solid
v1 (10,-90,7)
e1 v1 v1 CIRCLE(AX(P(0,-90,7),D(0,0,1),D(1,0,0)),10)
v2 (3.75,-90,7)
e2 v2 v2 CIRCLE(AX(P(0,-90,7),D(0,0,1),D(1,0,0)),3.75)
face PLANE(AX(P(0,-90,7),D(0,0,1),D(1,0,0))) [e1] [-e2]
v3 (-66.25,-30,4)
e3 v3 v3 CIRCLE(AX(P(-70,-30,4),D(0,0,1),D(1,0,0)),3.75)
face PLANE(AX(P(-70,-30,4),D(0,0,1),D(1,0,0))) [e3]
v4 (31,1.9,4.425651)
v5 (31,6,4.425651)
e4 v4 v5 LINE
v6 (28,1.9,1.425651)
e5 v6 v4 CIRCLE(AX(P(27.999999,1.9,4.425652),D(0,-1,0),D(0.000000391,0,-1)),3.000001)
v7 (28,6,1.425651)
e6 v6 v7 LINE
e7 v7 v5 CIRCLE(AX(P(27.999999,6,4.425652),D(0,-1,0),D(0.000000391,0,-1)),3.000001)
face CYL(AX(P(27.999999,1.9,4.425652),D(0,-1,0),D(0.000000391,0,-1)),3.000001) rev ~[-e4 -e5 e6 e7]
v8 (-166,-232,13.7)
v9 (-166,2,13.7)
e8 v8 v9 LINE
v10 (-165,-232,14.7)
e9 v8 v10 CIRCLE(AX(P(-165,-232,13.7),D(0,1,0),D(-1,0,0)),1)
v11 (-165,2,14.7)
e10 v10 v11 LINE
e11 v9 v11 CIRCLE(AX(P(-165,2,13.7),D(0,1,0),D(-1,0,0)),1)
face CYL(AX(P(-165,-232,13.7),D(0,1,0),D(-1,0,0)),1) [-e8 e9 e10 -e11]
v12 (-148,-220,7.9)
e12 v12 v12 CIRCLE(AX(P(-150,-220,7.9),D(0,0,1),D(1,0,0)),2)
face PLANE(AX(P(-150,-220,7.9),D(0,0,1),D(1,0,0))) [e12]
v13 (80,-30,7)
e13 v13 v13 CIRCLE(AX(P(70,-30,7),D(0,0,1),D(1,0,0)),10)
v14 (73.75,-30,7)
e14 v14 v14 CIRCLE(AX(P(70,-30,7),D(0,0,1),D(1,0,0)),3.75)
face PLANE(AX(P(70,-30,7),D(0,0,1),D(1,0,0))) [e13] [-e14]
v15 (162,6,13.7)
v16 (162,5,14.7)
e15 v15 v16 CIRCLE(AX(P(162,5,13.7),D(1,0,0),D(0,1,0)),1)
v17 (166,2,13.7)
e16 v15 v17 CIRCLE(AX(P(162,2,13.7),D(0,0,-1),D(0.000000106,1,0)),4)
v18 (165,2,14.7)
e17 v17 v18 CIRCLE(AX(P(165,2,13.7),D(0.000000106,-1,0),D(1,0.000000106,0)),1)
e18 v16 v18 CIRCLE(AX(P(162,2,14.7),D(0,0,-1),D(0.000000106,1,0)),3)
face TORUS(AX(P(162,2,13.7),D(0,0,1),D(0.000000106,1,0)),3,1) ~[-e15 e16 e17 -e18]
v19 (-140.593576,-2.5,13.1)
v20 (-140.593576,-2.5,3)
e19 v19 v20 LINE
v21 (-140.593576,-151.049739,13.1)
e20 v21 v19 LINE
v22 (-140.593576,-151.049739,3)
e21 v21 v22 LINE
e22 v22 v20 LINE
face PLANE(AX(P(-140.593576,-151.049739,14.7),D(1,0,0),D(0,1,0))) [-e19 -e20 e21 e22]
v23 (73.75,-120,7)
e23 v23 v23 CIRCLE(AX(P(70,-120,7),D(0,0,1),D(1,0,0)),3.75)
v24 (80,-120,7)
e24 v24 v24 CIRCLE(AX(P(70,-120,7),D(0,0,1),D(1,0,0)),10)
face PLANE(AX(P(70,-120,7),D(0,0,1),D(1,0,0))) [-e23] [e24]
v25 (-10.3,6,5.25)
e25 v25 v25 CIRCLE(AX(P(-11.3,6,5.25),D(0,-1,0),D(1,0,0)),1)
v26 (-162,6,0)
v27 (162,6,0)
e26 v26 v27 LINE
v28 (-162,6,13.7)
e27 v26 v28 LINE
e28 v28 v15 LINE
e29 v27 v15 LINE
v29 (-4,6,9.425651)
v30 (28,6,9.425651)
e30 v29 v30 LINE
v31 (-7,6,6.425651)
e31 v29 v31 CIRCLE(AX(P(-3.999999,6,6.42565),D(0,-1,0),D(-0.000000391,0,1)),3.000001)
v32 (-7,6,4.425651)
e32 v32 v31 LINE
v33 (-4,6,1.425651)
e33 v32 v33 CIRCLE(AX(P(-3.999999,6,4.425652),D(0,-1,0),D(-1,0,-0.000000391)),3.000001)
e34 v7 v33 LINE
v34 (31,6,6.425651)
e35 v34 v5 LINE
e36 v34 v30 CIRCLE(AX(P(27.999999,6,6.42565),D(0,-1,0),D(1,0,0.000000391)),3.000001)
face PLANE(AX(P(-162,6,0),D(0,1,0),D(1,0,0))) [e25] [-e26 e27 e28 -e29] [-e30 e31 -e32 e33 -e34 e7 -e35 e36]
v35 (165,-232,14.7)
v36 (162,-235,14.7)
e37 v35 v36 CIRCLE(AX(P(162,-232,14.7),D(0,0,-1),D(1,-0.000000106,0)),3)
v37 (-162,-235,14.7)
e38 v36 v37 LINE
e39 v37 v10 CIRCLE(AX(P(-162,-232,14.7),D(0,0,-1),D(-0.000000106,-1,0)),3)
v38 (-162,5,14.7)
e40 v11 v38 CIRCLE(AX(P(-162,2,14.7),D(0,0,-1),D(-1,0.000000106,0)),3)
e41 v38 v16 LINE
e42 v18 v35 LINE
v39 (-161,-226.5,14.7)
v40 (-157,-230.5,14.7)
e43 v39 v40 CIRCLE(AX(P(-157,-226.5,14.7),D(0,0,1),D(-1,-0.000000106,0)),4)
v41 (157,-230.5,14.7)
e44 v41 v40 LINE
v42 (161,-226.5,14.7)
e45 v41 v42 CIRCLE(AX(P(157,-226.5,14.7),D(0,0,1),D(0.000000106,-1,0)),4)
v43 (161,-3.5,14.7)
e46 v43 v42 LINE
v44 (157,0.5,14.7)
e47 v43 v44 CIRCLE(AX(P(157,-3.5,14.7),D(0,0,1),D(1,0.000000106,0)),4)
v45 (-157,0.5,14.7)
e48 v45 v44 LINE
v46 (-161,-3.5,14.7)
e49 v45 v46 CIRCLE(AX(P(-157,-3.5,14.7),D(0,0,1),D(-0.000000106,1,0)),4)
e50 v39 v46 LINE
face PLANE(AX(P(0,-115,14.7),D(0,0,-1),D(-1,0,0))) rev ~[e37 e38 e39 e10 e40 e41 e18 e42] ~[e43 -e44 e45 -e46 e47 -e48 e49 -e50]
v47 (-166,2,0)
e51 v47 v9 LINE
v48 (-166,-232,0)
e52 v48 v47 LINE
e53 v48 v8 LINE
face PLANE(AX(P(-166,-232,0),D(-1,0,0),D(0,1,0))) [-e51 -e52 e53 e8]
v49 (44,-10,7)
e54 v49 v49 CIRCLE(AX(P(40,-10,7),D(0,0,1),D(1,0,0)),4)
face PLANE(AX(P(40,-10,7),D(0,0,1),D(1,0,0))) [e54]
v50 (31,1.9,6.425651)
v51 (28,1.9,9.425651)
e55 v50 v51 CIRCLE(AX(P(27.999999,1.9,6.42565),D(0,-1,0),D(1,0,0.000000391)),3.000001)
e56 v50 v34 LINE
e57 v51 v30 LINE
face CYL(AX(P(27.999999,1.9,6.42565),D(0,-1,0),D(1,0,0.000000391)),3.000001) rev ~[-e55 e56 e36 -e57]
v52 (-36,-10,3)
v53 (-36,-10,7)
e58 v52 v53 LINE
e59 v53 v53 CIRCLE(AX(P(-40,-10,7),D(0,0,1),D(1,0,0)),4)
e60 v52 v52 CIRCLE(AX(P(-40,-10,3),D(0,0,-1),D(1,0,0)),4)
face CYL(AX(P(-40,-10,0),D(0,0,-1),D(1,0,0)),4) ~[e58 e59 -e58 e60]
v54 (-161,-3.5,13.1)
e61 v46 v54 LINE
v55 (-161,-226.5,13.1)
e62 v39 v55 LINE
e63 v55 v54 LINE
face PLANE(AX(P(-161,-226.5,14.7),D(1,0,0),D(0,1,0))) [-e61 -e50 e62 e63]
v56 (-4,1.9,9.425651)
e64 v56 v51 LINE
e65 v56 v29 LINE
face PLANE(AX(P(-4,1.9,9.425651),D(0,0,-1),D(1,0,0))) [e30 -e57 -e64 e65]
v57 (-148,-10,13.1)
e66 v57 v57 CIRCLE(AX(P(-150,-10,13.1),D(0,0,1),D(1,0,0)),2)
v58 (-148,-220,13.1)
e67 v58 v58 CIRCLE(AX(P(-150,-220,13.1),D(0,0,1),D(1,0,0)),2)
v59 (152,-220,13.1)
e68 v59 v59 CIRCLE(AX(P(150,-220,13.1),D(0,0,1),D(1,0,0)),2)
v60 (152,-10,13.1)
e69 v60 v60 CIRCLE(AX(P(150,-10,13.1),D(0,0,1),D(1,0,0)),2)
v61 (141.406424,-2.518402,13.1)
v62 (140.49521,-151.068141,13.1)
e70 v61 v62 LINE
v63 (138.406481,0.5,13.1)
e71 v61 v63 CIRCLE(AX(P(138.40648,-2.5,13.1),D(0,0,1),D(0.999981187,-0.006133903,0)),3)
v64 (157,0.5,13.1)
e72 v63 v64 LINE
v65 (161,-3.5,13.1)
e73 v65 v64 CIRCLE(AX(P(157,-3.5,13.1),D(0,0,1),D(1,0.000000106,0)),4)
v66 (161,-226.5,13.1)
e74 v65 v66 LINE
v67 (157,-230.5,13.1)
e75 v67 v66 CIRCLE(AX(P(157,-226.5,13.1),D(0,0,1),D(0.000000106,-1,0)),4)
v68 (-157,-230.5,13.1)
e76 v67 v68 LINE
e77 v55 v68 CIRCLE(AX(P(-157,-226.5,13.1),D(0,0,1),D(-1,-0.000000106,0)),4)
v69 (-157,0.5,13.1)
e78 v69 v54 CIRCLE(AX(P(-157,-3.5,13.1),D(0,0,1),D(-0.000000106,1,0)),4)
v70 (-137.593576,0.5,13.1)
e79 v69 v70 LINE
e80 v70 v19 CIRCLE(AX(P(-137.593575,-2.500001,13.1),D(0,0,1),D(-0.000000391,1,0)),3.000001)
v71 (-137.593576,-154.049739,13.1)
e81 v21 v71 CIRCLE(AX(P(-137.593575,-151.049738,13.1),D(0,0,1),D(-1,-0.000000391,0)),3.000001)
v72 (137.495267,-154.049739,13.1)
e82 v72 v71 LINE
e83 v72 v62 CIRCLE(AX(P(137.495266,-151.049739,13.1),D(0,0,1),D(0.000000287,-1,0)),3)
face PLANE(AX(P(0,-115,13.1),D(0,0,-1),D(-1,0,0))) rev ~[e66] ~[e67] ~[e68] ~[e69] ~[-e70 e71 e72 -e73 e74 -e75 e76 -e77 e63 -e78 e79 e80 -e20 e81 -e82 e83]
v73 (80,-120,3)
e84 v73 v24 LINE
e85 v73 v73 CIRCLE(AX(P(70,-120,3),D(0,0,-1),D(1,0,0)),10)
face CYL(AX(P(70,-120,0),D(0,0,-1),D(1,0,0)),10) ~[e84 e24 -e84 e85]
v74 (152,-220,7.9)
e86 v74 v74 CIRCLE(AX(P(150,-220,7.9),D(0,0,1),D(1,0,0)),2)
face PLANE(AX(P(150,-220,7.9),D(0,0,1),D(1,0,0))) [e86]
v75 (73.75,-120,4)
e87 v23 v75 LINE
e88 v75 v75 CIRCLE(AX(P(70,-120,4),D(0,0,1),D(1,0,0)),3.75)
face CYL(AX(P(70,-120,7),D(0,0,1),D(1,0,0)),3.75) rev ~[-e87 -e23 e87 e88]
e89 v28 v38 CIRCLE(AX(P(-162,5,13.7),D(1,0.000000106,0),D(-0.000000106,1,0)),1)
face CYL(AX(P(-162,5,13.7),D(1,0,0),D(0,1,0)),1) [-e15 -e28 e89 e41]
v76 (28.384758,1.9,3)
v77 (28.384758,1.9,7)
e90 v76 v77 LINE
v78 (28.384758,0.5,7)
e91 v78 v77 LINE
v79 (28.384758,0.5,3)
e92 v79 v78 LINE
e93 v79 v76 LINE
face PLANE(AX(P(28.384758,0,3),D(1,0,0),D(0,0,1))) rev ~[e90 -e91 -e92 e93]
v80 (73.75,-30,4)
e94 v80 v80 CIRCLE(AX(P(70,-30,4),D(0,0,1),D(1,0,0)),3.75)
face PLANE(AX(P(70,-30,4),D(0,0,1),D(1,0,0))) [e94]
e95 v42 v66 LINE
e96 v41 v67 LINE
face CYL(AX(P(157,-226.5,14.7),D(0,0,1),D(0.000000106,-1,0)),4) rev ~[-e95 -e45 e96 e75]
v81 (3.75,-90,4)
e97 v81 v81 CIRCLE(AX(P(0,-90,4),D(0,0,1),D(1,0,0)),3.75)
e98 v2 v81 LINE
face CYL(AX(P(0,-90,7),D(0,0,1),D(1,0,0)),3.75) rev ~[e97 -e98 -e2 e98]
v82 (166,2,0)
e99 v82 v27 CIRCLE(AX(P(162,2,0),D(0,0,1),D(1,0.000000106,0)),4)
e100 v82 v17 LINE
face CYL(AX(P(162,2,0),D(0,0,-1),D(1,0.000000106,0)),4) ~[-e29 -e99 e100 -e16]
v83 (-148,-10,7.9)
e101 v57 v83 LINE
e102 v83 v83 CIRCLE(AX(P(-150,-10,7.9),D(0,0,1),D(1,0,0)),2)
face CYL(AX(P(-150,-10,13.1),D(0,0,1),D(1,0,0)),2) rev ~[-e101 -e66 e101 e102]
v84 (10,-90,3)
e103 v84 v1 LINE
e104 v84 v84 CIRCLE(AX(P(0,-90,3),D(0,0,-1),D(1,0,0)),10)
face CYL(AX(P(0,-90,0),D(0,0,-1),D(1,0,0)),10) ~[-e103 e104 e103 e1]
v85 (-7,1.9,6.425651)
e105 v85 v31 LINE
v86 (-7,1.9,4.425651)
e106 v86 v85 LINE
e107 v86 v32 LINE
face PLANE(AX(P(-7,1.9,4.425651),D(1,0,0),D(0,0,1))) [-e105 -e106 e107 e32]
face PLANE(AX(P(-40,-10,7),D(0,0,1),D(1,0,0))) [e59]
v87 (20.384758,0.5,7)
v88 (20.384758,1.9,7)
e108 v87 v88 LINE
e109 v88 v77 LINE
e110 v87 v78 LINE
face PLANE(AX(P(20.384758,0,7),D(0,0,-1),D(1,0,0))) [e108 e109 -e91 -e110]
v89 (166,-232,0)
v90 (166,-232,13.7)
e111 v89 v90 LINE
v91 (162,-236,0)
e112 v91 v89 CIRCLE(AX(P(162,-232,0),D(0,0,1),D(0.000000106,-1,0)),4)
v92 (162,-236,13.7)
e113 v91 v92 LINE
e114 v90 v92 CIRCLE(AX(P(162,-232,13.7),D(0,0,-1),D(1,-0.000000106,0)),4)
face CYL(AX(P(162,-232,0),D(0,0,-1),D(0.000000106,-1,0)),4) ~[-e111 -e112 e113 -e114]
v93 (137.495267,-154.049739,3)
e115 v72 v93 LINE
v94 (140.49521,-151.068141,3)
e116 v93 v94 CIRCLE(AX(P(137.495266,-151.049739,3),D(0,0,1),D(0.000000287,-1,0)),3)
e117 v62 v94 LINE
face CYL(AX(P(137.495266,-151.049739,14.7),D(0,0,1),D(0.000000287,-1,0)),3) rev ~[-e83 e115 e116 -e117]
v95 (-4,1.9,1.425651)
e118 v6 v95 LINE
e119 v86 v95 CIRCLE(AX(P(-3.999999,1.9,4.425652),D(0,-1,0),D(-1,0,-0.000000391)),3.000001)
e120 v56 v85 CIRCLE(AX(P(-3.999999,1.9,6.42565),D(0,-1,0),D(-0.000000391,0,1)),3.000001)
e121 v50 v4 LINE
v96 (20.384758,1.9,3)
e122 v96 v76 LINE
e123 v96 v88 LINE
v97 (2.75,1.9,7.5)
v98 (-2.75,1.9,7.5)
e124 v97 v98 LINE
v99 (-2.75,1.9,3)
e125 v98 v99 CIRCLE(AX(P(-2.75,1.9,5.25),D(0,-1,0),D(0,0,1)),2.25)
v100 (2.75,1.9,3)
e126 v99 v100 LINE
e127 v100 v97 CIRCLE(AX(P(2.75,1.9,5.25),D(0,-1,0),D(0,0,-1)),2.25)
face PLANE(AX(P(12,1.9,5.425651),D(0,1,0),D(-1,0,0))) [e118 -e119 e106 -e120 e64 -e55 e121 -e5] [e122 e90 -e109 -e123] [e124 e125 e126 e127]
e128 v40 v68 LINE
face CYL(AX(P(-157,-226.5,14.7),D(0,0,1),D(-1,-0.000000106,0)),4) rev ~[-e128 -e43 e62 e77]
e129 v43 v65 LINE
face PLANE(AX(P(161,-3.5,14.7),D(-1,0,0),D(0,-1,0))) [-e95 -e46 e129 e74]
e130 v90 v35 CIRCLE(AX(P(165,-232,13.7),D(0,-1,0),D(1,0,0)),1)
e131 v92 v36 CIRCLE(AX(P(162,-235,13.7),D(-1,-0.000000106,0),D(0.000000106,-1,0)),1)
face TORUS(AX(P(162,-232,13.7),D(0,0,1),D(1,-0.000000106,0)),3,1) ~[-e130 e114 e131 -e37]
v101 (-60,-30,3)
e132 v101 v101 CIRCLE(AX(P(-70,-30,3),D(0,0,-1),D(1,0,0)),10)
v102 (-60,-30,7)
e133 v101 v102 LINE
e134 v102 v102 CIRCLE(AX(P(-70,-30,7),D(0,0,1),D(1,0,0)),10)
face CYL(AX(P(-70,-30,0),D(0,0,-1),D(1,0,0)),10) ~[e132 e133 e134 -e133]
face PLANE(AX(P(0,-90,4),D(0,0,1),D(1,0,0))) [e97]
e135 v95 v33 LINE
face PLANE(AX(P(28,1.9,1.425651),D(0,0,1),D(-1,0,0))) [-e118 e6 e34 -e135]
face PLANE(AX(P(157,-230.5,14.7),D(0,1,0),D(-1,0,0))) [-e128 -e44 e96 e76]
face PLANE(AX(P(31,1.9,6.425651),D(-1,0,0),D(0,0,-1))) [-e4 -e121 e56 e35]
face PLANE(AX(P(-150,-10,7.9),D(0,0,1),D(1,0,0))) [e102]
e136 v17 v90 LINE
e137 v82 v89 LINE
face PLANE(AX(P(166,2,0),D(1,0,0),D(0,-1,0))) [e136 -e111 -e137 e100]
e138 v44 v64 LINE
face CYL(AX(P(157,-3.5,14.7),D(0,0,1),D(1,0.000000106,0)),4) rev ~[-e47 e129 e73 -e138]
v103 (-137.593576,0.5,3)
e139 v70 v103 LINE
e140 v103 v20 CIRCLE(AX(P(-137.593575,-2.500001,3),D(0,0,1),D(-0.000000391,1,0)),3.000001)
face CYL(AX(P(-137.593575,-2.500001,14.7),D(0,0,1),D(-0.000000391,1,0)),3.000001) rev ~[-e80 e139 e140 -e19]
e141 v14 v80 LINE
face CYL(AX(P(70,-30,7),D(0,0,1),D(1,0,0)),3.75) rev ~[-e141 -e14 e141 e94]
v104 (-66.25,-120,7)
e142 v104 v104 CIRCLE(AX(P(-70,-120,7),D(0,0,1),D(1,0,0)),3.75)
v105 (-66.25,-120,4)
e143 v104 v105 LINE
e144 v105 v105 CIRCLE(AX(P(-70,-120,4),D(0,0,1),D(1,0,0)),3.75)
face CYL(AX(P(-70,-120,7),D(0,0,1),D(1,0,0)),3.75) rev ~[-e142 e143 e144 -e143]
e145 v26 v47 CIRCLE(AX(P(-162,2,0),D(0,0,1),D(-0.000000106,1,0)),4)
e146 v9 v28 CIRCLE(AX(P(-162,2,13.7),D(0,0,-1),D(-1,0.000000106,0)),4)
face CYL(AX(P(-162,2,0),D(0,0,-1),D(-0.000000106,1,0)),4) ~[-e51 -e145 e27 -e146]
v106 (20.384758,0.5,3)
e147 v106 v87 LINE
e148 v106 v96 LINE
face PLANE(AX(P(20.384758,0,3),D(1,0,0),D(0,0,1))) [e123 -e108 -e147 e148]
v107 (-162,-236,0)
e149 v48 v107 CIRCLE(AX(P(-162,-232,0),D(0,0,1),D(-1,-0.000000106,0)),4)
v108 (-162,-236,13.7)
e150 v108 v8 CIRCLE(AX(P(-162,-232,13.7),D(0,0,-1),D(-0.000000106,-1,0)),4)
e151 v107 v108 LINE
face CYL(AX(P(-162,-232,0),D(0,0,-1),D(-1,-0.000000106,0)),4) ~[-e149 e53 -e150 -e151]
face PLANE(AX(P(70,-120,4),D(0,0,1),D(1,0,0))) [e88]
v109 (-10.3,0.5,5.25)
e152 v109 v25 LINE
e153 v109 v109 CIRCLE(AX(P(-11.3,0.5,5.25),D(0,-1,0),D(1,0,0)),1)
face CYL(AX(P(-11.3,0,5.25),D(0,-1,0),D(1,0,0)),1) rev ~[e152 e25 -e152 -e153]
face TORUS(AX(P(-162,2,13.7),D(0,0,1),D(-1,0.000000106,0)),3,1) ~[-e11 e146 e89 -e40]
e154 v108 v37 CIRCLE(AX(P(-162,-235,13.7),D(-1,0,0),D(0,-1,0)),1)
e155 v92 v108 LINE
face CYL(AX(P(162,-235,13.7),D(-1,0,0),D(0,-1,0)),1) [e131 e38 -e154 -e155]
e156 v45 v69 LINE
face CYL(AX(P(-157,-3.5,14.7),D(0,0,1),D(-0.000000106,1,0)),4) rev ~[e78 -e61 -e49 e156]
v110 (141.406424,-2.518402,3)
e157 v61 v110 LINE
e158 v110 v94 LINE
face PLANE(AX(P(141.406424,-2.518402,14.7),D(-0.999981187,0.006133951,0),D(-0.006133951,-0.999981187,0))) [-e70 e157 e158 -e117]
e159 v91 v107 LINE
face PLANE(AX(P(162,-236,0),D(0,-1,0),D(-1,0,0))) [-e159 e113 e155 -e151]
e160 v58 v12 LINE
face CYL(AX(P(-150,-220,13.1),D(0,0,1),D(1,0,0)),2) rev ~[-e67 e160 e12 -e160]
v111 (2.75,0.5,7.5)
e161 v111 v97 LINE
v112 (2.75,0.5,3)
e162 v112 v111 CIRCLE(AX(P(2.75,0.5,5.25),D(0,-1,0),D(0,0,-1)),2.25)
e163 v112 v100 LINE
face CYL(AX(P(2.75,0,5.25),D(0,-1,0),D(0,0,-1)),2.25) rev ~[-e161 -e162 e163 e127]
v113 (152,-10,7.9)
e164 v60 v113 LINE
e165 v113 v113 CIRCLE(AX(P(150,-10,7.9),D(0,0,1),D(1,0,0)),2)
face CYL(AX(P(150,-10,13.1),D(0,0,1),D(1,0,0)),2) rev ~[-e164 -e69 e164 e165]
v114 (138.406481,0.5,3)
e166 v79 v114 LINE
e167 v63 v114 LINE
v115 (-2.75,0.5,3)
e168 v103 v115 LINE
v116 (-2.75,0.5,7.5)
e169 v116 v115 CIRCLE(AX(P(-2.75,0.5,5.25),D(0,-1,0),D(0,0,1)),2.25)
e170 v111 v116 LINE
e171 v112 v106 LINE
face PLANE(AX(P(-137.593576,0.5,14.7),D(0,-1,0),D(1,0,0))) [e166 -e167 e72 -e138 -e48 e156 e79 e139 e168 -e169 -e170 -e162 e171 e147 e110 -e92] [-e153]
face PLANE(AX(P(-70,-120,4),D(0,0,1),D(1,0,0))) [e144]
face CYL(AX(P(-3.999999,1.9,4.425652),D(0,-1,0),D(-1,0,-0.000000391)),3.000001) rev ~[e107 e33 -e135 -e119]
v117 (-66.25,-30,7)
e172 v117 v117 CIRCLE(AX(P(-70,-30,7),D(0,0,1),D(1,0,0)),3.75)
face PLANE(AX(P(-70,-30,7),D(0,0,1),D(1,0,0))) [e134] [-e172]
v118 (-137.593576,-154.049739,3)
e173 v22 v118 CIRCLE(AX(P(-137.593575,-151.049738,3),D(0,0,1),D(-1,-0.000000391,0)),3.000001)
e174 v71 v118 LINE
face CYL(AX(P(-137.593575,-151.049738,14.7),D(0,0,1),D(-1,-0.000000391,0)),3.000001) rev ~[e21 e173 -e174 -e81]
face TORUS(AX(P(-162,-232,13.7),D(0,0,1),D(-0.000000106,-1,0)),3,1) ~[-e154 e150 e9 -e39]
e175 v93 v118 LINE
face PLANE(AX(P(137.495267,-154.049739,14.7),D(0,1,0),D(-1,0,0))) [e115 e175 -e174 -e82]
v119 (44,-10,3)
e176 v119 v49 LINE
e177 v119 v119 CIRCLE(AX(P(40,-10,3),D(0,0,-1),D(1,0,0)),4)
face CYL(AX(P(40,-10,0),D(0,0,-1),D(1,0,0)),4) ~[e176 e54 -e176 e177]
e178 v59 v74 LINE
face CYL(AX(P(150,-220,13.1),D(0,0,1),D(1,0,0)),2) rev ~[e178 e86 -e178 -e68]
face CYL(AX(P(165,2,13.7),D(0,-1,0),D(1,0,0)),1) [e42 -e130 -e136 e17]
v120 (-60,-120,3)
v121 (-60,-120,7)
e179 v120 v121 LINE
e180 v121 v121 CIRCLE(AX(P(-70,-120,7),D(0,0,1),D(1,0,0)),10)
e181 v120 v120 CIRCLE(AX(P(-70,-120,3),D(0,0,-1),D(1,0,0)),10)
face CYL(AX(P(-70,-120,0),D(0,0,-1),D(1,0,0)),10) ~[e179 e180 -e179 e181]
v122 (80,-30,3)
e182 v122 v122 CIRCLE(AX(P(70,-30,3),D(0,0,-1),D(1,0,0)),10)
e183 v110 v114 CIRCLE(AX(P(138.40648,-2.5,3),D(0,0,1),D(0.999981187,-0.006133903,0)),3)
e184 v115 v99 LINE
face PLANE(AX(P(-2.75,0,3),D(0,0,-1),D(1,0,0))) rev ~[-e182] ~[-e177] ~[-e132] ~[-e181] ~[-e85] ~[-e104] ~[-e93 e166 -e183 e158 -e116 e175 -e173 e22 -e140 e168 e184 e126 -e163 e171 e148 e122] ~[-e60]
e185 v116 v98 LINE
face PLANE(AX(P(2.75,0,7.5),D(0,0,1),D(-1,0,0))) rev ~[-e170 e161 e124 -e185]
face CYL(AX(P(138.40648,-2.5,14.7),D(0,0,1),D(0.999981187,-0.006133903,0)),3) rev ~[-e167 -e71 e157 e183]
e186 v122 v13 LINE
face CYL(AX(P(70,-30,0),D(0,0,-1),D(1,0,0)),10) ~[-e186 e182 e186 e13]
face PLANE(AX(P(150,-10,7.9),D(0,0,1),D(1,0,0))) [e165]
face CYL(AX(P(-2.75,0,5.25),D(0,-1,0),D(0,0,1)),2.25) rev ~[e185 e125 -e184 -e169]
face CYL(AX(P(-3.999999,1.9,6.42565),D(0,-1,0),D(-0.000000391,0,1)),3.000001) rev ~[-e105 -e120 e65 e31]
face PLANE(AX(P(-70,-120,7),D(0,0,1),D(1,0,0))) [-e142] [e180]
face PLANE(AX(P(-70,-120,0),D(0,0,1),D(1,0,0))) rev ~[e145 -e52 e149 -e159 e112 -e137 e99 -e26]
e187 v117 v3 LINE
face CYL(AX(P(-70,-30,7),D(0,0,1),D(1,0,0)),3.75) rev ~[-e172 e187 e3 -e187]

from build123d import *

# Parameters (mm, degrees)
PAD_DEPTH       = 14.7
POCKET_DEPTH    = 11.7
SKETCH012_R     = 10
SKETCH012_R_2   = 4
PAD003_DEPTH    = 7
SKETCH015_R     = 1
SKETCH015_W     = 8
SKETCH015_H     = 4
POCKET003_DEPTH = 6
POCKET004_DEPTH = 4.1
SKETCH013_R     = 3.75
POCKET001_DEPTH = 3
POCKET002_DEPTH = 1.6
SKETCH017_R     = 2
POCKET005_DEPTH = 5.2
FILLET_R        = 1


with BuildPart() as part:
    # Sketch → Pad (new body)
    with BuildSketch(Plane.XY):
        with BuildLine():
            Line((-162, 6), (162, 6))
            ThreePointArc((166, 2), (164.828427, 4.828427), (162, 6))
            Line((166, 2), (166, -232))
            ThreePointArc((162, -236), (164.828427, -234.828427), (166, -232))
            Line((162, -236), (-162, -236))
            ThreePointArc((-166, -232), (-164.828427, -234.828427), (-162, -236))
            Line((-166, -232), (-166, 2))
            ThreePointArc((-162, 6), (-164.828427, 4.828427), (-166, 2))
        make_face()
    extrude(amount=PAD_DEPTH)

    # Sketch001 → Pocket (cut)
    with BuildSketch(Plane.XY.offset(14.7)):
        with BuildLine():
            Line((-137.593576, 0.5), (138.406481, 0.5))
            ThreePointArc((141.406424, -2.518402), (140.534297, -0.385196), (138.406481, 0.5))
            Line((141.406424, -2.518402), (140.49521, -151.068141))
            ThreePointArc((137.495267, -154.049739), (139.610071, -153.177555), (140.49521, -151.068141))
            Line((137.495267, -154.049739), (-137.593576, -154.049739))
            ThreePointArc((-140.593576, -151.049739), (-139.714896, -153.171059), (-137.593576, -154.049739))
            Line((-140.593576, -151.049739), (-140.593576, -2.5))
            ThreePointArc((-137.593576, 0.5), (-139.714896, -0.37868), (-140.593576, -2.5))
        make_face()
    extrude(amount=-POCKET_DEPTH, mode=Mode.SUBTRACT)

    # Sketch012 → Pad003 (join)
    with BuildSketch(Plane.XY):
        with Locations((-70, -120)):
            Circle(SKETCH012_R)
        with Locations((70, -120)):
            Circle(SKETCH012_R)
        with Locations((70, -30)):
            Circle(SKETCH012_R)
        with Locations((0, -90)):
            Circle(SKETCH012_R)
        with Locations((-70, -30)):
            Circle(SKETCH012_R)
        with Locations((40, -10)):
            Circle(SKETCH012_R_2)
        with Locations((-40, -10)):
            Circle(SKETCH012_R_2)
    extrude(amount=PAD003_DEPTH)

    # Sketch015 → Pocket003 (cut)
    with BuildSketch(Plane.XZ):
        with Locations((-11.3, 5.25)):
            Circle(SKETCH015_R)
        with BuildLine():
            ThreePointArc((2.75, 3), (5, 5.25), (2.75, 7.5))
            Line((2.75, 7.5), (-2.75, 7.5))
            ThreePointArc((-2.75, 7.5), (-5, 5.25), (-2.75, 3))
            Line((-2.75, 3), (2.75, 3))
        make_face()
        with Locations((24.384758, 5)):
            Rectangle(SKETCH015_W, SKETCH015_H)
    extrude(amount=-POCKET003_DEPTH, mode=Mode.SUBTRACT)

    # Sketch016 → Pocket004 (cut)
    with BuildSketch(Plane.XZ.offset(-1.9)):
        with BuildLine():
            Line((-4, 9.425651), (28, 9.425651))
            ThreePointArc((31, 6.425651), (30.12132, 8.546971), (28, 9.425651))
            Line((31, 6.425651), (31, 4.425651))
            ThreePointArc((28, 1.425651), (30.12132, 2.304331), (31, 4.425651))
            Line((28, 1.425651), (-4, 1.425651))
            ThreePointArc((-7, 4.425651), (-6.12132, 2.304331), (-4, 1.425651))
            Line((-7, 4.425651), (-7, 6.425651))
            ThreePointArc((-4, 9.425651), (-6.12132, 8.546971), (-7, 6.425651))
        make_face()
    extrude(amount=-POCKET004_DEPTH, mode=Mode.SUBTRACT)

    # Sketch013 → Pocket001 (cut)
    with BuildSketch(Plane.XY.offset(7)):
        with Locations((-70, -30)):
            Circle(SKETCH013_R)
        with Locations((-70, -120)):
            Circle(SKETCH013_R)
        with Locations((70, -120)):
            Circle(SKETCH013_R)
        with Locations((70, -30)):
            Circle(SKETCH013_R)
        with Locations((0, -90)):
            Circle(SKETCH013_R)
    extrude(amount=-POCKET001_DEPTH, mode=Mode.SUBTRACT)

    # Sketch014 → Pocket002 (cut)
    with BuildSketch(Plane.XY.offset(14.7)):
        with BuildLine():
            Line((-157, 0.5), (157, 0.5))
            ThreePointArc((161, -3.5), (159.828427, -0.671573), (157, 0.5))
            Line((161, -3.5), (161, -226.5))
            ThreePointArc((157, -230.5), (159.828427, -229.328427), (161, -226.5))
            Line((157, -230.5), (-157, -230.5))
            ThreePointArc((-161, -226.5), (-159.828427, -229.328427), (-157, -230.5))
            Line((-161, -226.5), (-161, -3.5))
            ThreePointArc((-157, 0.5), (-159.828427, -0.671573), (-161, -3.5))
        make_face()
    extrude(amount=-POCKET002_DEPTH, mode=Mode.SUBTRACT)

    # Sketch017 → Pocket005 (cut)
    with BuildSketch(Plane.XY.offset(13.1)):
        with Locations((-150, -10)):
            Circle(SKETCH017_R)
        with Locations((-150, -220)):
            Circle(SKETCH017_R)
        with Locations((150, -10)):
            Circle(SKETCH017_R)
        with Locations((150, -220)):
            Circle(SKETCH017_R)
    extrude(amount=-POCKET005_DEPTH, mode=Mode.SUBTRACT)

    # Fillet
    fillet_edges = [part.edges().sort_by_distance(p)[0] for p in [
        (-166, -115, 14.7),
        (-164.828427, -234.828427, 14.7),
        (0, -236, 14.7),
        (0, 6, 14.7),
        (-164.828427, 4.828427, 14.7),
        (164.828427, 4.828427, 14.7),
        (166, -115, 14.7),
        (164.828427, -234.828427, 14.7),
    ]]
    fillet(fillet_edges, radius=FILLET_R)


solid = part.part
